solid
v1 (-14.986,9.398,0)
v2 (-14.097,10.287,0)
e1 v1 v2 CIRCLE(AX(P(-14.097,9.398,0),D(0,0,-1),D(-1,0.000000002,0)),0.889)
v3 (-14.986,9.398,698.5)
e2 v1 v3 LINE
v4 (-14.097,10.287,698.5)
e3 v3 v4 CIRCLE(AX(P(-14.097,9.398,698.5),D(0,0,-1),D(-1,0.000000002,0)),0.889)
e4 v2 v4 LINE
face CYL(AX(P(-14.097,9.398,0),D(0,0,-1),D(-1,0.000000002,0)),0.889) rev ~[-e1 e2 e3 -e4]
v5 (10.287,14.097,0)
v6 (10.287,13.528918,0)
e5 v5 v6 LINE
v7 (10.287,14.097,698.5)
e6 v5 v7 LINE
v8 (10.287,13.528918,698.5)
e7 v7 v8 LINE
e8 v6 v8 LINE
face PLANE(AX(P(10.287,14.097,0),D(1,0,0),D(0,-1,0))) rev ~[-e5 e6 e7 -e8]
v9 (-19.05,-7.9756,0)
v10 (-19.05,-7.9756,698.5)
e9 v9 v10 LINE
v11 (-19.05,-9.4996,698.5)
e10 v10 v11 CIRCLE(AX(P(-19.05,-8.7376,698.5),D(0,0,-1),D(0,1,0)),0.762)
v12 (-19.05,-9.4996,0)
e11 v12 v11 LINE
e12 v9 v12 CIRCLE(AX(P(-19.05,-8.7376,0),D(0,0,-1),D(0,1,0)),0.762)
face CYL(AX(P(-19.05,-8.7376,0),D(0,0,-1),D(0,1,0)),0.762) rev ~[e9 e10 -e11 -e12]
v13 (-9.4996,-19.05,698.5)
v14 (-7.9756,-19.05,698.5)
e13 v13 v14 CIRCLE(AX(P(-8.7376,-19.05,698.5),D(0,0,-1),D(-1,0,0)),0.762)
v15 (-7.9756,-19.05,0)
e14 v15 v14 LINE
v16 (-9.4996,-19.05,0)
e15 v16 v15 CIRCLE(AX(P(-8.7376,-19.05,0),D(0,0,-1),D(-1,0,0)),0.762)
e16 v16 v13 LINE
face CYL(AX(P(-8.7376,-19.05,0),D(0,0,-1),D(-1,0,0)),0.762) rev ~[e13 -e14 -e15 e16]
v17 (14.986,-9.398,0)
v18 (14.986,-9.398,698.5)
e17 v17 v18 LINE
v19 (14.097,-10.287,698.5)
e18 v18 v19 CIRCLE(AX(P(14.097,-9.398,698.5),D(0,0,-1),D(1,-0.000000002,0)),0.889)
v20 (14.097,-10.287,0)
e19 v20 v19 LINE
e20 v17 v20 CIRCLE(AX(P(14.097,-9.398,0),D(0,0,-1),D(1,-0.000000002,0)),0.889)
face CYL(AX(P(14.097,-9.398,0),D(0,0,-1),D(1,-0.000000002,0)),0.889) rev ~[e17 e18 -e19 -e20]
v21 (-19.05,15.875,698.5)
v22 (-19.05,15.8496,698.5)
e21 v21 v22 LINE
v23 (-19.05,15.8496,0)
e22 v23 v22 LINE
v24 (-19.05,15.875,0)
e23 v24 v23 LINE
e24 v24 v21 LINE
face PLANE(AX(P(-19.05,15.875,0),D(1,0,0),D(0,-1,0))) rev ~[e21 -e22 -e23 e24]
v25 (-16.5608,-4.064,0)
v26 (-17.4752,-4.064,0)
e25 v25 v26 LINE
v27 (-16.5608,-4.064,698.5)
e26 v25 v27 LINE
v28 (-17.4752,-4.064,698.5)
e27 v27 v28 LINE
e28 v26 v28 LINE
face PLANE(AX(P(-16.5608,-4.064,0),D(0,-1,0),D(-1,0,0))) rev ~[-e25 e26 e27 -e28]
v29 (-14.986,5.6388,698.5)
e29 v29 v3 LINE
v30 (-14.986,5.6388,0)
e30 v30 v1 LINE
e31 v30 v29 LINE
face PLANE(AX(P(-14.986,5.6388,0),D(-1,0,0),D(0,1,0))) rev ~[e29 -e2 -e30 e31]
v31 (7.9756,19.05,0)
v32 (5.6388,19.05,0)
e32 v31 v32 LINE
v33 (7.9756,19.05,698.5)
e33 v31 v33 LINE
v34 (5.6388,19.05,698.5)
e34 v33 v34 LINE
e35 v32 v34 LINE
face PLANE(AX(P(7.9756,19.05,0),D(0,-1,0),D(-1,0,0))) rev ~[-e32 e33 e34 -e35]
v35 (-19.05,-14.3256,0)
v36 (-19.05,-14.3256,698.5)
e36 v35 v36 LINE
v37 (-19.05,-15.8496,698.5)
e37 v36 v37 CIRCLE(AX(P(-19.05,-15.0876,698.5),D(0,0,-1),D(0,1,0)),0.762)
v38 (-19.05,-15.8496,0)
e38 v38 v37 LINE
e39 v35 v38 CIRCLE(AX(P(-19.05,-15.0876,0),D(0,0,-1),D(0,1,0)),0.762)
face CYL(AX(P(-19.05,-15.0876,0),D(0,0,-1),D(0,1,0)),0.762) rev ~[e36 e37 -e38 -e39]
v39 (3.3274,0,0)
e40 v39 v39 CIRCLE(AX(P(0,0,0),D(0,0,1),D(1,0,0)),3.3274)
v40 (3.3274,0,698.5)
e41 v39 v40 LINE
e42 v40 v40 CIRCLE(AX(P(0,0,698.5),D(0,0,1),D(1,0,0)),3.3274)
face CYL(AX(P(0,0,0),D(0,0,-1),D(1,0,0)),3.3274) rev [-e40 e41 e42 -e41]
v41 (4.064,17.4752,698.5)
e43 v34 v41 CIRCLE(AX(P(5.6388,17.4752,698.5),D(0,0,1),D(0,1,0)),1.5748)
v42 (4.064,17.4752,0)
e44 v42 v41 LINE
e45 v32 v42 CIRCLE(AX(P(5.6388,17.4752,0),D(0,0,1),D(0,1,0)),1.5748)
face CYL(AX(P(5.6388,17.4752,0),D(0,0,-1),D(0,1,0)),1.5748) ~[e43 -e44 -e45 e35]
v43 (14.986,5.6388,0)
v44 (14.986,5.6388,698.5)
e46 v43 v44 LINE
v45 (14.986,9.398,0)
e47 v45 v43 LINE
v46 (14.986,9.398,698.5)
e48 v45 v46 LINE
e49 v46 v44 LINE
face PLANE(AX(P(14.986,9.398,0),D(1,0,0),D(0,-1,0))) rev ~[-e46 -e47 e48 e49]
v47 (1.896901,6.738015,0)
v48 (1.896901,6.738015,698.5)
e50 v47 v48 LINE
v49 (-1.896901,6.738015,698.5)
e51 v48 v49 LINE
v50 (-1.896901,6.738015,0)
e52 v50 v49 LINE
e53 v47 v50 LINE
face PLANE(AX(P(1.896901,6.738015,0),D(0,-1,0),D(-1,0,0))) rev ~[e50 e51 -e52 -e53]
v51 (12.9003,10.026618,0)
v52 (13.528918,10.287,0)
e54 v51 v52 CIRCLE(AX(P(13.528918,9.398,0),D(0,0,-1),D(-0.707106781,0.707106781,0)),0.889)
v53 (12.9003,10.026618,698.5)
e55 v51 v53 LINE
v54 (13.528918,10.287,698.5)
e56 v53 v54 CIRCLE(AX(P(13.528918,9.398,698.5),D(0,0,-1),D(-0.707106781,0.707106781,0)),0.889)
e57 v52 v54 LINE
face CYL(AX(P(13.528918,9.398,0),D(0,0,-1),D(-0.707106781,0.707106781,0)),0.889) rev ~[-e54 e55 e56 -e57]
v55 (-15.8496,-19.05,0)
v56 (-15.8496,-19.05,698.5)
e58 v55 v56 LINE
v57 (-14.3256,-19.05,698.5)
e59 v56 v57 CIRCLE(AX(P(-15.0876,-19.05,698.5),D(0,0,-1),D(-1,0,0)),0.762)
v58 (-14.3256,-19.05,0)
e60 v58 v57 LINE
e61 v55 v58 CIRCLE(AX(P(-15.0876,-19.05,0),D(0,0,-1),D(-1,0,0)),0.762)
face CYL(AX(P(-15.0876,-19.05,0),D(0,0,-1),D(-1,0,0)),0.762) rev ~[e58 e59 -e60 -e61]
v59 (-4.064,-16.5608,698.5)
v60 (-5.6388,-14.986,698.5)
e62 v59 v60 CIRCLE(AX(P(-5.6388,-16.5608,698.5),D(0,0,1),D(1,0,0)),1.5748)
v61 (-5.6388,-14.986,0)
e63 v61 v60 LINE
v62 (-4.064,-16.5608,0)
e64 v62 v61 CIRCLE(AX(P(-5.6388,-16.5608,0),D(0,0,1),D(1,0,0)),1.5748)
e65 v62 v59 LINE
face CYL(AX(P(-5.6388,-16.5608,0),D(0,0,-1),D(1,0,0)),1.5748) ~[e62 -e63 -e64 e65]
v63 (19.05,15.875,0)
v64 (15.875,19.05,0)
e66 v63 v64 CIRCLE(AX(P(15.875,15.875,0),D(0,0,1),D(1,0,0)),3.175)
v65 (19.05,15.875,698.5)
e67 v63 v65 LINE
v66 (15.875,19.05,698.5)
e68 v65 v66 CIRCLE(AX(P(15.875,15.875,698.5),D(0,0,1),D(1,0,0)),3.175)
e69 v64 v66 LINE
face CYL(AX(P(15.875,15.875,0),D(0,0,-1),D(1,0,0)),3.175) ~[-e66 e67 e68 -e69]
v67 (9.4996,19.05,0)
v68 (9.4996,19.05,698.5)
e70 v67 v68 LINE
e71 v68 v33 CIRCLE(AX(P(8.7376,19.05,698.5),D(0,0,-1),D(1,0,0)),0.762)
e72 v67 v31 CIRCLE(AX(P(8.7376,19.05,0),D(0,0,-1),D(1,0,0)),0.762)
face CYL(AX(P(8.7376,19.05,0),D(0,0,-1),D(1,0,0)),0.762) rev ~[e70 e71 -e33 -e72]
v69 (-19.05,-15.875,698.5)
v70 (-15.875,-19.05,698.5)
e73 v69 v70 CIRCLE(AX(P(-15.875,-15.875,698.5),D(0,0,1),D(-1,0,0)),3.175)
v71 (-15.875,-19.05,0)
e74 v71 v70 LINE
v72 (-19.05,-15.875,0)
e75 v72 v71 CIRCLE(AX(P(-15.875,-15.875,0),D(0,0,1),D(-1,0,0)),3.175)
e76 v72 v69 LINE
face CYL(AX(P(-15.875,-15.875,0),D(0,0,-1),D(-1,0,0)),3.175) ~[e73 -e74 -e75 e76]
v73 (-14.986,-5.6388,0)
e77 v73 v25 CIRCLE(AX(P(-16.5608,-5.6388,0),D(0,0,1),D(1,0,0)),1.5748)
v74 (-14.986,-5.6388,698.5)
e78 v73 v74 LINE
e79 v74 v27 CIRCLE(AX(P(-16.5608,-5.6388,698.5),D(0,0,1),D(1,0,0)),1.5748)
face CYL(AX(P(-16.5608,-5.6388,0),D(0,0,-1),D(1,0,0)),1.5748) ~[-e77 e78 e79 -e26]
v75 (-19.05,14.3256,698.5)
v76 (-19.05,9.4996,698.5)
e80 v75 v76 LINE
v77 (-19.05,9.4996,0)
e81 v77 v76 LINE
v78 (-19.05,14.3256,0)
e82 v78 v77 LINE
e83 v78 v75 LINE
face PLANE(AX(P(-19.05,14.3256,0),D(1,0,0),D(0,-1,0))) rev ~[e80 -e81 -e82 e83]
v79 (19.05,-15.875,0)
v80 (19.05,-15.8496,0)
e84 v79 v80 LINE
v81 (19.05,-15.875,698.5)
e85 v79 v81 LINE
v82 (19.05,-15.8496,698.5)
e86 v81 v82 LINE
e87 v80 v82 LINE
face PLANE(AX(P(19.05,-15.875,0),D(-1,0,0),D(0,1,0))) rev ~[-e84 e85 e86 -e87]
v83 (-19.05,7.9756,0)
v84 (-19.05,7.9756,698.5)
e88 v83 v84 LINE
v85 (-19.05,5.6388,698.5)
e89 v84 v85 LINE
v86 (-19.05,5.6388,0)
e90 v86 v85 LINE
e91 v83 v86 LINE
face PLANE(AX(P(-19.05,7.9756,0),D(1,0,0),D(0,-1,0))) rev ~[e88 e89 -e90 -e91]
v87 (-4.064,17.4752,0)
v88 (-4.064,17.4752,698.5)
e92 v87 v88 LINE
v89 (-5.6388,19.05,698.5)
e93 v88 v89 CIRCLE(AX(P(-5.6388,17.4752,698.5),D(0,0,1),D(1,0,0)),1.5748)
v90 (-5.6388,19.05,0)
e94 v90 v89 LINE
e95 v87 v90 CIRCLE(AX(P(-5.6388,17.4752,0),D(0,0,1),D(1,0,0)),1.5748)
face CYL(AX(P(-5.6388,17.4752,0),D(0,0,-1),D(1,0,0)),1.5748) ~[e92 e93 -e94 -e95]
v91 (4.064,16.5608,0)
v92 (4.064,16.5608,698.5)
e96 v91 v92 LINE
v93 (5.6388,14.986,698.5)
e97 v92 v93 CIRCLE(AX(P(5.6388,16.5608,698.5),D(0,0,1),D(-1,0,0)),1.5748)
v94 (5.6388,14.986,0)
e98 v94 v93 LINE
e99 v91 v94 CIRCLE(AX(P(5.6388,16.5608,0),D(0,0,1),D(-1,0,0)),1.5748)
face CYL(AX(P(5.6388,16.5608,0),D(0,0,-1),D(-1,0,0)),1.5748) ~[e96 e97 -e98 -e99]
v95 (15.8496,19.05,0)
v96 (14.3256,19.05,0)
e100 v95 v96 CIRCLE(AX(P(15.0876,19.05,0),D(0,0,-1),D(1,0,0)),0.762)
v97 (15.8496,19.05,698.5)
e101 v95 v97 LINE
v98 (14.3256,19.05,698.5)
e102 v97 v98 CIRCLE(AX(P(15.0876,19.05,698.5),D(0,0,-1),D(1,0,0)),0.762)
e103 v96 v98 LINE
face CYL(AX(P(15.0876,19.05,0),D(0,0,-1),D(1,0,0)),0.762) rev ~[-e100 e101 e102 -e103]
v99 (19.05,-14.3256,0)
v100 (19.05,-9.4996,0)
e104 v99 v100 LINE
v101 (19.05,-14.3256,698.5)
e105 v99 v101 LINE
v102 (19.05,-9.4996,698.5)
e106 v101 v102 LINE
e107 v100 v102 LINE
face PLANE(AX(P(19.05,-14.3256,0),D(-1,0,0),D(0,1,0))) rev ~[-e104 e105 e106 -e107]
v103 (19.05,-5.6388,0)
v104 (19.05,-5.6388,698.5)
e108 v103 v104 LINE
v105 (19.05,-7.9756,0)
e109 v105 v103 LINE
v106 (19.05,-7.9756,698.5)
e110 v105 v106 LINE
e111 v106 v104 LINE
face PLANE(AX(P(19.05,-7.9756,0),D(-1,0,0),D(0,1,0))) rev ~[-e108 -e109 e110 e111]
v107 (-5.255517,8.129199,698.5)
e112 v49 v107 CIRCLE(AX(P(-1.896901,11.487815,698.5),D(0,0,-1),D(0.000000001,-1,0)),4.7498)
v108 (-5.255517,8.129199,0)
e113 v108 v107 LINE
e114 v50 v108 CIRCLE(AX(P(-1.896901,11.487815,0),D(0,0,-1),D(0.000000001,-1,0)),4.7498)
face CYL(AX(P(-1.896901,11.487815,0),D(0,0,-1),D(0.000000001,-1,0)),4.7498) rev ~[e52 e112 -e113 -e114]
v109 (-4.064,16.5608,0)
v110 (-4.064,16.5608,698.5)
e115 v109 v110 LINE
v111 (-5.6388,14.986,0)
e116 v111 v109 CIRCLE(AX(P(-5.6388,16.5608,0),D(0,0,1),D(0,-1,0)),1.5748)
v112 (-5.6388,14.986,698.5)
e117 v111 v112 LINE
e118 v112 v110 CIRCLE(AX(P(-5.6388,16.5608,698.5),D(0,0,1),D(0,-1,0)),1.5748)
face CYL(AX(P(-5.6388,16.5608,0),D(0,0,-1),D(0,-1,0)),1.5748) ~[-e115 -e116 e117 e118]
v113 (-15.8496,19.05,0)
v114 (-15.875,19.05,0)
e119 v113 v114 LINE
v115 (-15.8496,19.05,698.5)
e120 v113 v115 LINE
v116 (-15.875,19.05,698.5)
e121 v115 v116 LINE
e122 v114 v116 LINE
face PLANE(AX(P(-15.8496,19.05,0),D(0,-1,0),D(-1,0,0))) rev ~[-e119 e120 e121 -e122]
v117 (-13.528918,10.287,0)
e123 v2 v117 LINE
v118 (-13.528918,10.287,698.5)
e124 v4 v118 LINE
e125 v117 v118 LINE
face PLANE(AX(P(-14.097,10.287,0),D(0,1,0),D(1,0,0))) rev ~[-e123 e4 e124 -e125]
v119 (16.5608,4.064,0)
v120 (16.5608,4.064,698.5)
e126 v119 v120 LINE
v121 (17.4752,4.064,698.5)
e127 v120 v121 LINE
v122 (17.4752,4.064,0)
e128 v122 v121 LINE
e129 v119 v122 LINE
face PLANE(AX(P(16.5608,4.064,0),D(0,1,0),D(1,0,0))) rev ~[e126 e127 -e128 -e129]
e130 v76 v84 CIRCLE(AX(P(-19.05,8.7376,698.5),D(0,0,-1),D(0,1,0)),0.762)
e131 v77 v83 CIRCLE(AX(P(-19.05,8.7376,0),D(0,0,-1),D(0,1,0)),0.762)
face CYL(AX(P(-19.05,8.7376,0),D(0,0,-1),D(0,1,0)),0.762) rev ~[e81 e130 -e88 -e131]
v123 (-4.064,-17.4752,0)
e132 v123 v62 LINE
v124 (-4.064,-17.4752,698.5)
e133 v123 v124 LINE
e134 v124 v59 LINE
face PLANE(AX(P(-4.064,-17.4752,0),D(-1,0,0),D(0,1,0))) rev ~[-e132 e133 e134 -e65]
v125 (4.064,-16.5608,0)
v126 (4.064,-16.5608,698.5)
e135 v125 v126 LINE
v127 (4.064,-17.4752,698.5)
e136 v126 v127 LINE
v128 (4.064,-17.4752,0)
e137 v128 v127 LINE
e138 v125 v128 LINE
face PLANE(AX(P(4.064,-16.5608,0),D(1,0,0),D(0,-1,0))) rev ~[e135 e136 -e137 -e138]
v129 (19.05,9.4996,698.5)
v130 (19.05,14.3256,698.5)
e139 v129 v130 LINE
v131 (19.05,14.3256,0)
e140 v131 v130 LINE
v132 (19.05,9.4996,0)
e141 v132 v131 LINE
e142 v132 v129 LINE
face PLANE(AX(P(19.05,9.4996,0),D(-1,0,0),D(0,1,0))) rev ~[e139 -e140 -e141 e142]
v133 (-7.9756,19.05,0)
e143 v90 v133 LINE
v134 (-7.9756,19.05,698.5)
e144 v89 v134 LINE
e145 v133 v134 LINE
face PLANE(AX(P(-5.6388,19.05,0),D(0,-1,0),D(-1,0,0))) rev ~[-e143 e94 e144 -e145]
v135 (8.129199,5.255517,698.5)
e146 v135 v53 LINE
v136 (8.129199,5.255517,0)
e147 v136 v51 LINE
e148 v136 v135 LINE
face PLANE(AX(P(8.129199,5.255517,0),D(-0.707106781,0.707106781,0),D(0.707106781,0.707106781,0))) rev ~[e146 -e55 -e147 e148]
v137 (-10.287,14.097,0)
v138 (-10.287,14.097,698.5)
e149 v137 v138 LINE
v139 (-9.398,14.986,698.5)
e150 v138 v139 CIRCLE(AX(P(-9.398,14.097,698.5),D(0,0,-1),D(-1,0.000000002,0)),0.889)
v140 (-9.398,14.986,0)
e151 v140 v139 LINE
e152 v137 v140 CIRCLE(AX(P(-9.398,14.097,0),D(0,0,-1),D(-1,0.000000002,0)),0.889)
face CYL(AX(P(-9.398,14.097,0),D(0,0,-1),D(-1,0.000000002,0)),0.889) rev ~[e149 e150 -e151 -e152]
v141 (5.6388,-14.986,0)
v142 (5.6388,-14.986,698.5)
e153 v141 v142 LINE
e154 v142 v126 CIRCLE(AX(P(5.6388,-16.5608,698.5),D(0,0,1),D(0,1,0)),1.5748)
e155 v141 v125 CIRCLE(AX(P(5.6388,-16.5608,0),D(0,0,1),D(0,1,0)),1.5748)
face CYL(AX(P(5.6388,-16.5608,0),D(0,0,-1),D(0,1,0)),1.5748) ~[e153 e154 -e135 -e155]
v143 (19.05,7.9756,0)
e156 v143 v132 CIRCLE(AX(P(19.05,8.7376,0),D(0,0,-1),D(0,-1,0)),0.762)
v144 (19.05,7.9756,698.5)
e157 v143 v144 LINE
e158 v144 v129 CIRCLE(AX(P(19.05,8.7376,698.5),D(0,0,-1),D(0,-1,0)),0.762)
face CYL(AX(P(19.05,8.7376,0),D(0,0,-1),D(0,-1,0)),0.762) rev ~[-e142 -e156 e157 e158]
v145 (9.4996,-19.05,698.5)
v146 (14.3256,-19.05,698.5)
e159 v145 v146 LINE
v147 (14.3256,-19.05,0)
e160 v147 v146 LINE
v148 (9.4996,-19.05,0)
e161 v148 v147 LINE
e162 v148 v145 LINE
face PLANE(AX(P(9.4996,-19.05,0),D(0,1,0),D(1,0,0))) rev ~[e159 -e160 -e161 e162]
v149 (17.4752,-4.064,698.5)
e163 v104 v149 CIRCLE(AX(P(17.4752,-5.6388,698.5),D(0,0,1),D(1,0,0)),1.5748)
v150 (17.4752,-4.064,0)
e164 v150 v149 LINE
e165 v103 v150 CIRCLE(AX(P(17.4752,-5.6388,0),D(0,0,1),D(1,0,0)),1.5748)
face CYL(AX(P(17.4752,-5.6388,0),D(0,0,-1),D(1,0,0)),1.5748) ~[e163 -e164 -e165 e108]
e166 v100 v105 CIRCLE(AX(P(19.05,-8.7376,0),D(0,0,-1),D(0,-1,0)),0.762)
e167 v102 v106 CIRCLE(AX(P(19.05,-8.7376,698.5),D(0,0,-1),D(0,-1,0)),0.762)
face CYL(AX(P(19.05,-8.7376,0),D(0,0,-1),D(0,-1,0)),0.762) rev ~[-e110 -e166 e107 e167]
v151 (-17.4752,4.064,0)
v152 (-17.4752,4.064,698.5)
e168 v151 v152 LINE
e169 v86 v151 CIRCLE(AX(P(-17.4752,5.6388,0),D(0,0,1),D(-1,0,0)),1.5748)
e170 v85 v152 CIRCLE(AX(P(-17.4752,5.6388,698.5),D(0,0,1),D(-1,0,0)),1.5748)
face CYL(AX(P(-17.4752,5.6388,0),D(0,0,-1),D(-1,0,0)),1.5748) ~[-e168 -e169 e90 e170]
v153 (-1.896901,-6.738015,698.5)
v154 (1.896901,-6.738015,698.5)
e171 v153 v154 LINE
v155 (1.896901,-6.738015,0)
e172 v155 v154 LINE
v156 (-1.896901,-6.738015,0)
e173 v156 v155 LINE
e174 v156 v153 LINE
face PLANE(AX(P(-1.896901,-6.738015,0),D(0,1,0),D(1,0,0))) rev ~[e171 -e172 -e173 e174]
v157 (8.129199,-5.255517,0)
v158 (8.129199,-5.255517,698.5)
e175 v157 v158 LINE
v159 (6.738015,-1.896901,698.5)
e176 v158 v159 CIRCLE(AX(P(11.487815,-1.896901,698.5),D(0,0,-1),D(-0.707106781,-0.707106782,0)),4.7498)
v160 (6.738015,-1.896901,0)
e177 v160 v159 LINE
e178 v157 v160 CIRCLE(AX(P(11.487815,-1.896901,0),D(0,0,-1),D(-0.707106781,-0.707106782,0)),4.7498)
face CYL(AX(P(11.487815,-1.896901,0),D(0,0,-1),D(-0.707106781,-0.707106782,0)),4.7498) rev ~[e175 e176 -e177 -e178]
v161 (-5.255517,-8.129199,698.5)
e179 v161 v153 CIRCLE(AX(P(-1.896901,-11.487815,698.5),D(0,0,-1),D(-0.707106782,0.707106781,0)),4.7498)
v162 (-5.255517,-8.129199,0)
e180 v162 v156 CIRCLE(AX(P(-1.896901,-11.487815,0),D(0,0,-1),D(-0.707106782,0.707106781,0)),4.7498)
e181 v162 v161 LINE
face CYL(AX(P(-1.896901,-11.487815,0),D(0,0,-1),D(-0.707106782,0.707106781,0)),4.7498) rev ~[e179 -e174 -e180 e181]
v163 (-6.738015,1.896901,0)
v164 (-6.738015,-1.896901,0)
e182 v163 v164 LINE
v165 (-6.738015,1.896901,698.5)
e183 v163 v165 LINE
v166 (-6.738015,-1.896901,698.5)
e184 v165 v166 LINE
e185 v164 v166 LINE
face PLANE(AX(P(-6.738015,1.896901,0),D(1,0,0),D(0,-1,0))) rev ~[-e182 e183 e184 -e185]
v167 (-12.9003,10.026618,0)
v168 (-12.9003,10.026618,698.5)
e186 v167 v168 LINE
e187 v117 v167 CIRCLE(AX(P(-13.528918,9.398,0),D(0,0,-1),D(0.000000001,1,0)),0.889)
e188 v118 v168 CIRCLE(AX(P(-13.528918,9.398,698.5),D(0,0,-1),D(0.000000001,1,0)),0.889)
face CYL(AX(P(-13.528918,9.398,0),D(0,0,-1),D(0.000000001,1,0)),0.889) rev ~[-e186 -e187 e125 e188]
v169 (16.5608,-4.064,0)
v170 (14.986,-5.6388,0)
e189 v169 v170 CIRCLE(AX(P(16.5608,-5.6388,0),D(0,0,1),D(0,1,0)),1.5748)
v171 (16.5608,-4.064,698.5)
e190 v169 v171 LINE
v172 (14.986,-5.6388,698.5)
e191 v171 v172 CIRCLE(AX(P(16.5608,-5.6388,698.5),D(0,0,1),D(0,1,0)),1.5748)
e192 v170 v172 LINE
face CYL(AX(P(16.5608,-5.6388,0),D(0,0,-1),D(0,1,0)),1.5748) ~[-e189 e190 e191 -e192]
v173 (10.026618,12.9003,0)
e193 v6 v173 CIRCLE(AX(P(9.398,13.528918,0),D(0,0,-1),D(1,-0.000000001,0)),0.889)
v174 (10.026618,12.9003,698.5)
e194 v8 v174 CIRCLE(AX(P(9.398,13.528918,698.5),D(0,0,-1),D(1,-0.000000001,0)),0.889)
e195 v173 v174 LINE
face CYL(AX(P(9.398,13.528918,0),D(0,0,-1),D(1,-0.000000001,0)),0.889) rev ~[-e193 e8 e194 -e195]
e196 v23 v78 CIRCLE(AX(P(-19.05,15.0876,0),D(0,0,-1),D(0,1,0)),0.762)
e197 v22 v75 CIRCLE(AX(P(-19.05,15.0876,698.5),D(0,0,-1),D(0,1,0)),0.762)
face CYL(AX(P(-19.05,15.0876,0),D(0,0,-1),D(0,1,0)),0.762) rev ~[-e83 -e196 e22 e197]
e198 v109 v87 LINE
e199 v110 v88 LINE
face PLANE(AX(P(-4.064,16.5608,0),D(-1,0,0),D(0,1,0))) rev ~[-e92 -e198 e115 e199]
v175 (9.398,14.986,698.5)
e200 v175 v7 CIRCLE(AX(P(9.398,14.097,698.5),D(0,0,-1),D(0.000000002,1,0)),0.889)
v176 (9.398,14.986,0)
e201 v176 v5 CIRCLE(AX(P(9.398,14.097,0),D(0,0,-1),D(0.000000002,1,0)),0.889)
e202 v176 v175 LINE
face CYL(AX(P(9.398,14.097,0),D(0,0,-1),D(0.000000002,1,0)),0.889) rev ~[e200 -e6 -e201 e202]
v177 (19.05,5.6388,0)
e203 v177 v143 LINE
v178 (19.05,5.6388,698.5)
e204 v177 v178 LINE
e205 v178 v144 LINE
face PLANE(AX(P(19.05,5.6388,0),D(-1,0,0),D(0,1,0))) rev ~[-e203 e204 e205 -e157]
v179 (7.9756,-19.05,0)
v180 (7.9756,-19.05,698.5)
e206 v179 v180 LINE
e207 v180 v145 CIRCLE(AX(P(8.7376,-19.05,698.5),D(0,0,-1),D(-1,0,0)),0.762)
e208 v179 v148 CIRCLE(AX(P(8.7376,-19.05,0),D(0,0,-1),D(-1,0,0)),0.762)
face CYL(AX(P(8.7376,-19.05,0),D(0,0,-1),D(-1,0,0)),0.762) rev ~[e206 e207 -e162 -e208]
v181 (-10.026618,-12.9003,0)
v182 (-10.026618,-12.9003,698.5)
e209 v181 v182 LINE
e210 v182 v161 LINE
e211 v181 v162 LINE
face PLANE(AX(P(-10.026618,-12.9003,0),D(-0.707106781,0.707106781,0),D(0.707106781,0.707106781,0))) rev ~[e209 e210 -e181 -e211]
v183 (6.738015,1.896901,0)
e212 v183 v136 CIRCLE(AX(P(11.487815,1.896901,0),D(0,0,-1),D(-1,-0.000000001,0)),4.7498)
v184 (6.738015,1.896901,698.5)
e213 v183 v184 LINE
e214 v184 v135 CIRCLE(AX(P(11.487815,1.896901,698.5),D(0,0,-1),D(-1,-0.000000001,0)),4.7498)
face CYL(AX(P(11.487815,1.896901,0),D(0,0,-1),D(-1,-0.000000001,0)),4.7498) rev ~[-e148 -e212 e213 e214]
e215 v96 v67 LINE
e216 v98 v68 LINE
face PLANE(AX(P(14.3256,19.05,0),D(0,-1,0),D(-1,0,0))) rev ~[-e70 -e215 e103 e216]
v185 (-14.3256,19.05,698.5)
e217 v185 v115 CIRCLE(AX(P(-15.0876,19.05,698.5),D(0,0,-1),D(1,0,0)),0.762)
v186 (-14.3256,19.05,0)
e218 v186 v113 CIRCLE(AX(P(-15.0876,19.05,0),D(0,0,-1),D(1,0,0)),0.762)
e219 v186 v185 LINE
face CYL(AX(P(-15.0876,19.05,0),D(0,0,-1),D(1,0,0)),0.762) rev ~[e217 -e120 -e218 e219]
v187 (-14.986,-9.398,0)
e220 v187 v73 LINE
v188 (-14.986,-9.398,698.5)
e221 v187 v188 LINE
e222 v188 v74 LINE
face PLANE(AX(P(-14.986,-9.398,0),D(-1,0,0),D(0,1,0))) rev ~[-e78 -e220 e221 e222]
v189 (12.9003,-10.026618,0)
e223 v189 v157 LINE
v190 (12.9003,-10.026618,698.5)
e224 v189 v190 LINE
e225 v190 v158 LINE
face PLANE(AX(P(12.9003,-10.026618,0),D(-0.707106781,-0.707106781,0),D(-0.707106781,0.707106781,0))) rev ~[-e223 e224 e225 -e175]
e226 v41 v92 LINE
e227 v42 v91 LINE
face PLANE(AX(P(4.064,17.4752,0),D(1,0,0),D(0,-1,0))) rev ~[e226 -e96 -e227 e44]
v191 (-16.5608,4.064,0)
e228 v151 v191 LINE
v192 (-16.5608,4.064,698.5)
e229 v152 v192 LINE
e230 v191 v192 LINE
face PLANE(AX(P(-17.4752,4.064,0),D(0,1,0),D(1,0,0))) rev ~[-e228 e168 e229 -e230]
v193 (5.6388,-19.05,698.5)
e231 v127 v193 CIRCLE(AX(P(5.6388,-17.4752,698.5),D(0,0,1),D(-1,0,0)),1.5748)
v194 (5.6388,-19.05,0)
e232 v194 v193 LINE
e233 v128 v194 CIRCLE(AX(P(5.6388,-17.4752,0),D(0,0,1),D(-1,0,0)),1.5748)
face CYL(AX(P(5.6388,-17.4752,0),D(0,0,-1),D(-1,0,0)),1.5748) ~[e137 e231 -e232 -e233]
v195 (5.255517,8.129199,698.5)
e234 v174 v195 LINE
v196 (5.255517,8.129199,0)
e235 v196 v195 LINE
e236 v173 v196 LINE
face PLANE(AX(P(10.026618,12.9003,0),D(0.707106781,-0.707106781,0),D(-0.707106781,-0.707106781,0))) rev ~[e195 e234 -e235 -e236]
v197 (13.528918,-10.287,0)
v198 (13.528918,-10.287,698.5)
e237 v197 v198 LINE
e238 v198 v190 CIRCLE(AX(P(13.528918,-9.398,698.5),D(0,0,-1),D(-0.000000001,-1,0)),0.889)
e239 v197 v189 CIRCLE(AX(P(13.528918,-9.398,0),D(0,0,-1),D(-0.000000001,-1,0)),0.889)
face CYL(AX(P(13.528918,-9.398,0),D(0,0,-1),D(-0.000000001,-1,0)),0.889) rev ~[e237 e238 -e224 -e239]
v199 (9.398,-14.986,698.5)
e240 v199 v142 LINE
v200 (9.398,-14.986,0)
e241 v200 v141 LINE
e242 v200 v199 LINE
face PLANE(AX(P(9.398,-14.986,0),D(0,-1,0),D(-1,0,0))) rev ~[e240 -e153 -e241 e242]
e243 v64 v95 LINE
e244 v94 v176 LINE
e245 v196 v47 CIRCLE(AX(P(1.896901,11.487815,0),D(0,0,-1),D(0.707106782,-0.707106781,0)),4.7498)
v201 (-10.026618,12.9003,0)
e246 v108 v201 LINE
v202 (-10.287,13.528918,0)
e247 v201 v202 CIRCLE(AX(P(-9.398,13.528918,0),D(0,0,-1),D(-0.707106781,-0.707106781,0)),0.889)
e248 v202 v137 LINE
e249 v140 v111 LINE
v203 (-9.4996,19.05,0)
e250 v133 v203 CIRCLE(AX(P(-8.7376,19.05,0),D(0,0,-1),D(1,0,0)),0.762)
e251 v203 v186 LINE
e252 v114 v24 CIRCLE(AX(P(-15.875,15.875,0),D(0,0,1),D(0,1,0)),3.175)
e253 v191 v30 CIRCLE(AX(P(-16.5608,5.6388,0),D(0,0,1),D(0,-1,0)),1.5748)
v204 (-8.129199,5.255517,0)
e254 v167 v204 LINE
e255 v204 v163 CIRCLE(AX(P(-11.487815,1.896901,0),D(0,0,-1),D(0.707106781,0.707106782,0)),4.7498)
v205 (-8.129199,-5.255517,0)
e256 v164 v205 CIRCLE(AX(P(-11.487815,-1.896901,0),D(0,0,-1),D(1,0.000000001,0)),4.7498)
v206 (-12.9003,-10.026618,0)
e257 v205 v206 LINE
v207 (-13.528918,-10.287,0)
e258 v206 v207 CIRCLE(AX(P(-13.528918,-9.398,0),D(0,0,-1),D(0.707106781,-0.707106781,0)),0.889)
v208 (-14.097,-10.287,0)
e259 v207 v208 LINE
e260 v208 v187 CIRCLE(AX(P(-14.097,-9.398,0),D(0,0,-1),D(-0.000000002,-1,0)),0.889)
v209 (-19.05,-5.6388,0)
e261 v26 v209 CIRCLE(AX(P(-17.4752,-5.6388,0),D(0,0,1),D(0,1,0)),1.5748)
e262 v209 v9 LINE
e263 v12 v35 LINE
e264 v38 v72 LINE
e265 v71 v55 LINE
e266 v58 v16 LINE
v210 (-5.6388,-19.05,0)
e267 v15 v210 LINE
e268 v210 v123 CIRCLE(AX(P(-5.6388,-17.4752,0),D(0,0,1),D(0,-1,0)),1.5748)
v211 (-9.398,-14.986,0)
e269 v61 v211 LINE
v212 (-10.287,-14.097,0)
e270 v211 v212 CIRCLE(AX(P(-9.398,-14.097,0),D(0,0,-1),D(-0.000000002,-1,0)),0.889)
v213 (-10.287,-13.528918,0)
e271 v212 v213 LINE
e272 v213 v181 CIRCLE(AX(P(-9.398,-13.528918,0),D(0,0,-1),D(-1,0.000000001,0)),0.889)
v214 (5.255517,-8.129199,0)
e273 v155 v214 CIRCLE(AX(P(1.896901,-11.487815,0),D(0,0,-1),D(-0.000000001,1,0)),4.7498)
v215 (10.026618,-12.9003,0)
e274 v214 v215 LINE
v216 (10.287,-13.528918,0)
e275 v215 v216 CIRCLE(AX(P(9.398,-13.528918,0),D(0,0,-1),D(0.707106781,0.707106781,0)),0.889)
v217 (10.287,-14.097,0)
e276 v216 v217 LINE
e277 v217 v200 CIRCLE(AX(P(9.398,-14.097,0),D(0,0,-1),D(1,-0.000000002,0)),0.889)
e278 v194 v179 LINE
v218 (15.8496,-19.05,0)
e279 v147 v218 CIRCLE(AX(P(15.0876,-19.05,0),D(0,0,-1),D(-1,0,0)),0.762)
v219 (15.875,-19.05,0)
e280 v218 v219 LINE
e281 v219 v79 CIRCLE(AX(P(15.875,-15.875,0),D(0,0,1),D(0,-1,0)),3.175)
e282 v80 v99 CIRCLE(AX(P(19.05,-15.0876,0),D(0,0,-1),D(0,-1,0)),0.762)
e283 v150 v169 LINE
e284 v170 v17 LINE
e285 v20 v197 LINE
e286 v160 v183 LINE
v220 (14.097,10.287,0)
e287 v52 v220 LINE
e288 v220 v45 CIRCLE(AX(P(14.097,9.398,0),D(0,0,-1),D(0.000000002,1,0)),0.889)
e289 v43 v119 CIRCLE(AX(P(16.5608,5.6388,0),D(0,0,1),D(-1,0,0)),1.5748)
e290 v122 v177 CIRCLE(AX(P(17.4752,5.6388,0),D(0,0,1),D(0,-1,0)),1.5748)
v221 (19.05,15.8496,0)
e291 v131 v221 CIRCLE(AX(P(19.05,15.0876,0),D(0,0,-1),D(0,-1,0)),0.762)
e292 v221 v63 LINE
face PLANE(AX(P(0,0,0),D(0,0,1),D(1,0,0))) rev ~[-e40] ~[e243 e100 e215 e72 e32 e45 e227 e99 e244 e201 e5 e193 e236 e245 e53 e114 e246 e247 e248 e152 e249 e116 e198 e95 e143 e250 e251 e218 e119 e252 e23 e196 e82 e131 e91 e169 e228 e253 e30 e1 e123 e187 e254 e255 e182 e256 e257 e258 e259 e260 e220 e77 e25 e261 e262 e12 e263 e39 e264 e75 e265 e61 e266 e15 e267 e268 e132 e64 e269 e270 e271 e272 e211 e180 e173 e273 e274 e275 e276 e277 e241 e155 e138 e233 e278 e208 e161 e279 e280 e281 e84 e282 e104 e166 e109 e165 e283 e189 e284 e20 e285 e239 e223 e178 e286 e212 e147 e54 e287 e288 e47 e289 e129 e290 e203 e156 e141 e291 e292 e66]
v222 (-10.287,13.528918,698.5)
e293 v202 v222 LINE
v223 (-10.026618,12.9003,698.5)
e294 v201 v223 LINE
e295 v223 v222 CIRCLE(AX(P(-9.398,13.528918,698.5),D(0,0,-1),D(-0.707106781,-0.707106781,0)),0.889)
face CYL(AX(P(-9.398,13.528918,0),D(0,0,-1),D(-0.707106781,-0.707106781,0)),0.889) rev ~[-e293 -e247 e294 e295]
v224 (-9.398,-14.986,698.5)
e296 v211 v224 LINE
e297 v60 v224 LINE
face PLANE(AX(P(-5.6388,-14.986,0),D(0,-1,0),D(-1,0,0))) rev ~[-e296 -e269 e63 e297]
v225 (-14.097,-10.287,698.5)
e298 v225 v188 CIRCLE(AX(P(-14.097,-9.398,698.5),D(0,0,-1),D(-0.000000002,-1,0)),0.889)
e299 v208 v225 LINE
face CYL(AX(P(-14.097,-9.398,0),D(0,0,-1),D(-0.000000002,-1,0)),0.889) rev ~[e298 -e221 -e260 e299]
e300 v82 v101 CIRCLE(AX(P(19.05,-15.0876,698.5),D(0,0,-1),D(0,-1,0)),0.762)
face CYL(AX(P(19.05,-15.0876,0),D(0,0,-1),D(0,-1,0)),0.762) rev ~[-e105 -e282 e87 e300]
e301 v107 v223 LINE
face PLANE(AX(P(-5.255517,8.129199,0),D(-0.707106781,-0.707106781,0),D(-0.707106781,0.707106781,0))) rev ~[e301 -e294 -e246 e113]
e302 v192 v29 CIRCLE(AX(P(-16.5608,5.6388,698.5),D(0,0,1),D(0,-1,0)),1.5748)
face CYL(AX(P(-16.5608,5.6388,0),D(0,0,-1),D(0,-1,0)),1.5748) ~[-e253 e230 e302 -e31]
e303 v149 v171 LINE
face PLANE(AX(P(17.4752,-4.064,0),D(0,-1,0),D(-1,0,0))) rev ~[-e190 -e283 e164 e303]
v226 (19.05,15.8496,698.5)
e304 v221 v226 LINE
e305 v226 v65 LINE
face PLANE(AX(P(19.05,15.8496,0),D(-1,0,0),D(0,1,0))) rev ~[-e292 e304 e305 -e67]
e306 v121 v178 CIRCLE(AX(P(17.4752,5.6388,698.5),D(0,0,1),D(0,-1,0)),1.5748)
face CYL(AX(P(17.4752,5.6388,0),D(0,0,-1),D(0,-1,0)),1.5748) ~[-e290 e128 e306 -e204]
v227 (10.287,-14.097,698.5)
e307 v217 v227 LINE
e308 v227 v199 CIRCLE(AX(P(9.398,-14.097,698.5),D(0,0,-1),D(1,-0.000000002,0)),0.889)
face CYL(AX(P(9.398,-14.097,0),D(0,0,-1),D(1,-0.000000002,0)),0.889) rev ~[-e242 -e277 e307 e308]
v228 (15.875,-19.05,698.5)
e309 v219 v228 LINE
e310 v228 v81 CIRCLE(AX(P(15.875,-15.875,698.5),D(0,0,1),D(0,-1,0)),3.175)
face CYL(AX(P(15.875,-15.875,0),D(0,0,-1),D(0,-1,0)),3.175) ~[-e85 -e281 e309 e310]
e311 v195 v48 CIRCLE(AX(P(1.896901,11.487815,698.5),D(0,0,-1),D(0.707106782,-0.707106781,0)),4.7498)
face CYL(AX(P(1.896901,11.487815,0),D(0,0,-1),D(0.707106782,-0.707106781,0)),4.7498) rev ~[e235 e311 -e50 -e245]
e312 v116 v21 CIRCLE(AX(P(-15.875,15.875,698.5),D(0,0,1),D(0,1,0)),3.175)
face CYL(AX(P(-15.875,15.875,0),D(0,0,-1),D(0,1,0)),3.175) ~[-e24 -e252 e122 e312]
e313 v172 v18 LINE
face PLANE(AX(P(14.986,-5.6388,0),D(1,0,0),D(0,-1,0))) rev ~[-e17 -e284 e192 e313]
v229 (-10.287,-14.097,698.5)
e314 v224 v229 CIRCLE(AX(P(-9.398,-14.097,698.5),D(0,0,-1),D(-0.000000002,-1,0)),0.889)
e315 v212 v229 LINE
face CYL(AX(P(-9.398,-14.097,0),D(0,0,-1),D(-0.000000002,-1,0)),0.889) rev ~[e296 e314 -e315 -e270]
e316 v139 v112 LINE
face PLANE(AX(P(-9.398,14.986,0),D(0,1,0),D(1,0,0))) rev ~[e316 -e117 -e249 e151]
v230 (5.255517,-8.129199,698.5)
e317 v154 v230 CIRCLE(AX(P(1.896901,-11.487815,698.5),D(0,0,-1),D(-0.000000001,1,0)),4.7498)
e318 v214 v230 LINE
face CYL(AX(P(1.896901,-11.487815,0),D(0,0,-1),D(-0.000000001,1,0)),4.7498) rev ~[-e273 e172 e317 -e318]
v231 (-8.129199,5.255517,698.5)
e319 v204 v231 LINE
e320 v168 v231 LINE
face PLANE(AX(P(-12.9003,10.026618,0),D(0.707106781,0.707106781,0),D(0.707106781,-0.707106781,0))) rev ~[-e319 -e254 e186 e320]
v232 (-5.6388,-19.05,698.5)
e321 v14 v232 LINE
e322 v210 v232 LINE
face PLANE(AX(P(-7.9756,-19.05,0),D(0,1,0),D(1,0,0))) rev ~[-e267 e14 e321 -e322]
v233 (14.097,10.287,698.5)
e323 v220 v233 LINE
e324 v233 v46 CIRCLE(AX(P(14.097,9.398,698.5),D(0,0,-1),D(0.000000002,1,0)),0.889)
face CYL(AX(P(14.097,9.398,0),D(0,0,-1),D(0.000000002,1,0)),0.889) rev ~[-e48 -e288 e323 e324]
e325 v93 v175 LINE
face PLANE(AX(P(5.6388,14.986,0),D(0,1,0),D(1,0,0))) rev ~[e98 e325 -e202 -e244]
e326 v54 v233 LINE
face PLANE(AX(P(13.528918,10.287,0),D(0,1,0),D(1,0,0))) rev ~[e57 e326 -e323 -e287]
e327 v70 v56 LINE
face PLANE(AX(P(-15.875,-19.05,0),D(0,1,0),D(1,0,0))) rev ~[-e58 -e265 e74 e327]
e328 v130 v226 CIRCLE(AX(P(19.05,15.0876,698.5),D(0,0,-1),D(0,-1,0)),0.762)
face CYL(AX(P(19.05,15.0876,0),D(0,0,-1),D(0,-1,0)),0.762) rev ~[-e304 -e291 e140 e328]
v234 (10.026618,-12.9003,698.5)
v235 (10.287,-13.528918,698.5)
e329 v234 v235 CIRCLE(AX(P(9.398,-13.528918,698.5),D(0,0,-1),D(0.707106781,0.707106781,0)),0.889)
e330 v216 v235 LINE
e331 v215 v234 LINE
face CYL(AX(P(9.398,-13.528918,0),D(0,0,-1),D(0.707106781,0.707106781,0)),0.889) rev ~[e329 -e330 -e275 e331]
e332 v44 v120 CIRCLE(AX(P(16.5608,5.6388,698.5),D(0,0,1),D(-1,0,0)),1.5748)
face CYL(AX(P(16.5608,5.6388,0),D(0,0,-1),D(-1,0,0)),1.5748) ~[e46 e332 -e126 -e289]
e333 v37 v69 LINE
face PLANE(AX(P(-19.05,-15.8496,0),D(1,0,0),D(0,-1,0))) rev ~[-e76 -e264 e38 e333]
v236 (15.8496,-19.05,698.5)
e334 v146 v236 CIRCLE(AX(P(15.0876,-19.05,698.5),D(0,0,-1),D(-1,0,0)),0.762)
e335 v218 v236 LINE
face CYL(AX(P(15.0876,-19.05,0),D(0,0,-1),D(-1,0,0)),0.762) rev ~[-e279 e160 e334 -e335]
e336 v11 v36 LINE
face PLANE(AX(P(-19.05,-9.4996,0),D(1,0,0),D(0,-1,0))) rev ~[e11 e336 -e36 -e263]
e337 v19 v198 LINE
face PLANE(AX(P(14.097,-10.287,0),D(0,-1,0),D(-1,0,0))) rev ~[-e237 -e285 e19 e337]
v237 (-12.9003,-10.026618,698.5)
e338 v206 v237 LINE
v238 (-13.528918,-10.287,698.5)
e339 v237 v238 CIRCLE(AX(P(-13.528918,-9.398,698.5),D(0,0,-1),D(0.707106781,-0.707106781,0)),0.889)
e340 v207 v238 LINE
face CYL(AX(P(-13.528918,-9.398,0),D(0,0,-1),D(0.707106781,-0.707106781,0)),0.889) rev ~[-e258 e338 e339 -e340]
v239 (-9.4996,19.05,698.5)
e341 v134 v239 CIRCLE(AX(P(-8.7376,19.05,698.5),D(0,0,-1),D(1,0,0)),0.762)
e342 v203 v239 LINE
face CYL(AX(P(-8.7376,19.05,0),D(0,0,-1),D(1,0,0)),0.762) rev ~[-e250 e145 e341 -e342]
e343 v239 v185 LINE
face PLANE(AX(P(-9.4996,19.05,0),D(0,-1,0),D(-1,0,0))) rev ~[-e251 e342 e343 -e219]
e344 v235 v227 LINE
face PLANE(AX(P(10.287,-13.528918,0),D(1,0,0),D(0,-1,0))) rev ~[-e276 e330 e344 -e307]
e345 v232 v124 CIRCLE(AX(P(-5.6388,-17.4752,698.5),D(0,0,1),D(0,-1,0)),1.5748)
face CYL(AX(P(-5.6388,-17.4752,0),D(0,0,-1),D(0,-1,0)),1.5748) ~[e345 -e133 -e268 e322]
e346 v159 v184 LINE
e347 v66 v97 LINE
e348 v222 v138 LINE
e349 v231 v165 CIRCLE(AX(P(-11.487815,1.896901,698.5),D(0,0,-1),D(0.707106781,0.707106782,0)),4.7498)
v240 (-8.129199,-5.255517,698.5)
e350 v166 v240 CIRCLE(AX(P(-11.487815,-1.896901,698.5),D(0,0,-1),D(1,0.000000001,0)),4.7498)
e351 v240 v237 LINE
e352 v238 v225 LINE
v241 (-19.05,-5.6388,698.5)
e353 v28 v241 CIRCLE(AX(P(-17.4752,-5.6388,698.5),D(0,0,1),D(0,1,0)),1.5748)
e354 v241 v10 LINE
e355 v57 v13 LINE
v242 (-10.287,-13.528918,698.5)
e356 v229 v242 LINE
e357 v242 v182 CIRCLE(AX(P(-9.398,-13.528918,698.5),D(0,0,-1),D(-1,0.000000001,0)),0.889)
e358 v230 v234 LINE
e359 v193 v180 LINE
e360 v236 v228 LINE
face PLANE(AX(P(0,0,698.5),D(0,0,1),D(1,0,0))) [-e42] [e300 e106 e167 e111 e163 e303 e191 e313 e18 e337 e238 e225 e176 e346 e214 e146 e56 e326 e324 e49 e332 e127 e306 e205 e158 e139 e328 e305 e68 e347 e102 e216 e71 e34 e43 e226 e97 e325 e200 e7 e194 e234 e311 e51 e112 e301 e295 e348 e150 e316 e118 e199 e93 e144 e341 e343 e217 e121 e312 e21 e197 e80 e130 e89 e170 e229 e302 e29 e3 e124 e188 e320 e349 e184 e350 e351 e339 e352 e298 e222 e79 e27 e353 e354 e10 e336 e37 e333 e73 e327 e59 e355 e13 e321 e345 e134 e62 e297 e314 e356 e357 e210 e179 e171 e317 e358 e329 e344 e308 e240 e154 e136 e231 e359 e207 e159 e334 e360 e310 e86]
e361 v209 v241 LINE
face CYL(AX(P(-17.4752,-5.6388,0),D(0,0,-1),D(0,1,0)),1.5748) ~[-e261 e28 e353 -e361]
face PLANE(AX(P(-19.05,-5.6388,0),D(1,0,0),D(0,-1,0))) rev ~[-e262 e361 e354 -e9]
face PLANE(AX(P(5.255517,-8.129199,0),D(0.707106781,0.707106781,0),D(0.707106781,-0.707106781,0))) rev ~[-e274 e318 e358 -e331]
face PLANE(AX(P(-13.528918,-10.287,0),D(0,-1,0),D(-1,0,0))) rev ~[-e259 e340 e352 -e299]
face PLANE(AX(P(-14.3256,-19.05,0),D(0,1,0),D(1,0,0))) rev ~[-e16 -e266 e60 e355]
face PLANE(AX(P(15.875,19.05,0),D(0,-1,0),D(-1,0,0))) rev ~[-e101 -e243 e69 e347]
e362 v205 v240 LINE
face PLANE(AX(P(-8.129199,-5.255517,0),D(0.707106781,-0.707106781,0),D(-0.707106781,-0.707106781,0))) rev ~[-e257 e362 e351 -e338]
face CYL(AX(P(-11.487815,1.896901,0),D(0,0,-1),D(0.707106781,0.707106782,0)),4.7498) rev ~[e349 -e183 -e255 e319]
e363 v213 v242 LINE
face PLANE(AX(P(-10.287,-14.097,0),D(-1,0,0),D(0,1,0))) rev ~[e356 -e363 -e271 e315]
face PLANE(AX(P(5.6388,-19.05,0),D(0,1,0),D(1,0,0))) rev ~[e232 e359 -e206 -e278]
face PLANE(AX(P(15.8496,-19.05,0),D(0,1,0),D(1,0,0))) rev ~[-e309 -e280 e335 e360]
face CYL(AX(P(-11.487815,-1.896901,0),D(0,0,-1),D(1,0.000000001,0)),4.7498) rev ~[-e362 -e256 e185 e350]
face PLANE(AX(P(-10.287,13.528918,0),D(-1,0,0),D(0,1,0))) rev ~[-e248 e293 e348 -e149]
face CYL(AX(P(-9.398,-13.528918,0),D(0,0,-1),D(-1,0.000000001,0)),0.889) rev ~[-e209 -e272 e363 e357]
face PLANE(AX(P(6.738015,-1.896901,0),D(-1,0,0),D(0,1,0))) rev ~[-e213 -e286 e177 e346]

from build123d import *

# Parameters (mm, degrees)
SKETCH1_R           = 3.3274
BOSS_EXTRUDE1_DEPTH = 698.5


with BuildPart() as part:
    # Sketch1 → Boss-Extrude1 (new body)
    with BuildSketch(Plane.XY):
        with BuildLine():
            Line((-14.097, 10.287), (-13.528918, 10.287))
            ThreePointArc((-13.528918, 10.287), (-13.188712428, 10.219328904), (-12.900300071, 10.026617928))
            Line((-12.900300071, 10.026617928), (-8.129198975, 5.255516832))
            ThreePointArc((-8.129198975, 5.255516832), (-7.09957176, 3.71457081), (-6.738014764, 1.896901043))
            Line((-6.738014764, 1.896901043), (-6.738014764, -1.896901043))
            ThreePointArc((-6.738014764, -1.896901043), (-7.09957176, -3.71457081), (-8.129198975, -5.255516832))
            Line((-8.129198975, -5.255516832), (-12.900300071, -10.026617928))
            ThreePointArc((-12.900300071, -10.026617928), (-13.188712428, -10.219328904), (-13.528918, -10.287))
            Line((-13.528918, -10.287), (-14.097, -10.287))
            ThreePointArc((-14.097, -10.287), (-14.725617928, -10.026617928), (-14.986, -9.398))
            Line((-14.986, -9.398), (-14.986, -5.6388))
            ThreePointArc((-14.986, -5.6388), (-15.447248241, -4.525248241), (-16.5608, -4.064))
            Line((-16.5608, -4.064), (-17.4752, -4.064))
            ThreePointArc((-17.4752, -4.064), (-18.588751759, -4.525248241), (-19.05, -5.6388))
            Line((-19.05, -5.6388), (-19.05, -7.9756))
            ThreePointArc((-19.05, -7.9756), (-18.288, -8.7376), (-19.05, -9.4996))
            Line((-19.05, -9.4996), (-19.05, -14.3256))
            ThreePointArc((-19.05, -14.3256), (-18.288, -15.0876), (-19.05, -15.8496))
            Line((-19.05, -15.8496), (-19.05, -15.875))
            ThreePointArc((-19.05, -15.875), (-18.12006403, -18.12006403), (-15.875, -19.05))
            Line((-15.875, -19.05), (-15.8496, -19.05))
            ThreePointArc((-15.8496, -19.05), (-15.0876, -18.288), (-14.3256, -19.05))
            Line((-14.3256, -19.05), (-9.4996, -19.05))
            ThreePointArc((-9.4996, -19.05), (-8.7376, -18.288), (-7.9756, -19.05))
            Line((-7.9756, -19.05), (-5.6388, -19.05))
            ThreePointArc((-5.6388, -19.05), (-4.525248241, -18.588751759), (-4.064, -17.4752))
            Line((-4.064, -17.4752), (-4.064, -16.5608))
            ThreePointArc((-4.064, -16.5608), (-4.525248241, -15.447248241), (-5.6388, -14.986))
            Line((-5.6388, -14.986), (-9.398, -14.986))
            ThreePointArc((-9.398, -14.986), (-10.026617928, -14.725617928), (-10.287, -14.097))
            Line((-10.287, -14.097), (-10.287, -13.528918))
            ThreePointArc((-10.287, -13.528918), (-10.219328904, -13.188712428), (-10.026617928, -12.900300071))
            Line((-10.026617928, -12.900300071), (-5.255516832, -8.129198975))
            ThreePointArc((-5.255516832, -8.129198975), (-3.71457081, -7.09957176), (-1.896901043, -6.738014764))
            Line((-1.896901043, -6.738014764), (1.896901043, -6.738014764))
            ThreePointArc((1.896901043, -6.738014764), (3.71457081, -7.09957176), (5.255516832, -8.129198975))
            Line((5.255516832, -8.129198975), (10.026617928, -12.900300071))
            ThreePointArc((10.026617928, -12.900300071), (10.219328904, -13.188712428), (10.287, -13.528918))
            Line((10.287, -13.528918), (10.287, -14.097))
            ThreePointArc((10.287, -14.097), (10.026617928, -14.725617928), (9.398, -14.986))
            Line((9.398, -14.986), (5.6388, -14.986))
            ThreePointArc((5.6388, -14.986), (4.525248241, -15.447248241), (4.064, -16.5608))
            Line((4.064, -16.5608), (4.064, -17.4752))
            ThreePointArc((4.064, -17.4752), (4.525248241, -18.588751759), (5.6388, -19.05))
            Line((5.6388, -19.05), (7.9756, -19.05))
            ThreePointArc((7.9756, -19.05), (8.7376, -18.288), (9.4996, -19.05))
            Line((9.4996, -19.05), (14.3256, -19.05))
            ThreePointArc((14.3256, -19.05), (15.0876, -18.288), (15.8496, -19.05))
            Line((15.8496, -19.05), (15.875, -19.05))
            ThreePointArc((15.875, -19.05), (18.12006403, -18.12006403), (19.05, -15.875))
            Line((19.05, -15.875), (19.05, -15.8496))
            ThreePointArc((19.05, -15.8496), (18.288, -15.0876), (19.05, -14.3256))
            Line((19.05, -14.3256), (19.05, -9.4996))
            ThreePointArc((19.05, -9.4996), (18.288, -8.7376), (19.05, -7.9756))
            Line((19.05, -7.9756), (19.05, -5.6388))
            ThreePointArc((19.05, -5.6388), (18.588751759, -4.525248241), (17.4752, -4.064))
            Line((17.4752, -4.064), (16.5608, -4.064))
            ThreePointArc((16.5608, -4.064), (15.447248241, -4.525248241), (14.986, -5.6388))
            Line((14.986, -5.6388), (14.986, -9.398))
            ThreePointArc((14.986, -9.398), (14.725617928, -10.026617928), (14.097, -10.287))
            Line((14.097, -10.287), (13.528918, -10.287))
            ThreePointArc((13.528918, -10.287), (13.188712428, -10.219328904), (12.900300071, -10.026617928))
            Line((12.900300071, -10.026617928), (8.129198975, -5.255516832))
            ThreePointArc((8.129198975, -5.255516832), (7.09957176, -3.71457081), (6.738014764, -1.896901043))
            Line((6.738014764, -1.896901043), (6.738014764, 1.896901043))
            ThreePointArc((6.738014764, 1.896901043), (7.09957176, 3.71457081), (8.129198975, 5.255516832))
            Line((8.129198975, 5.255516832), (12.900300071, 10.026617928))
            ThreePointArc((12.900300071, 10.026617928), (13.188712428, 10.219328904), (13.528918, 10.287))
            Line((13.528918, 10.287), (14.097, 10.287))
            ThreePointArc((14.097, 10.287), (14.725617928, 10.026617928), (14.986, 9.398))
            Line((14.986, 9.398), (14.986, 5.6388))
            ThreePointArc((14.986, 5.6388), (15.447248241, 4.525248241), (16.5608, 4.064))
            Line((16.5608, 4.064), (17.4752, 4.064))
            ThreePointArc((17.4752, 4.064), (18.588751759, 4.525248241), (19.05, 5.6388))
            Line((19.05, 5.6388), (19.05, 7.9756))
            ThreePointArc((19.05, 7.9756), (18.288, 8.7376), (19.05, 9.4996))
            Line((19.05, 9.4996), (19.05, 14.3256))
            ThreePointArc((19.05, 14.3256), (18.288, 15.0876), (19.05, 15.8496))
            Line((19.05, 15.8496), (19.05, 15.875))
            ThreePointArc((19.05, 15.875), (18.12006403, 18.12006403), (15.875, 19.05))
            Line((15.875, 19.05), (15.8496, 19.05))
            ThreePointArc((15.8496, 19.05), (15.0876, 18.288), (14.3256, 19.05))
            Line((14.3256, 19.05), (9.4996, 19.05))
            ThreePointArc((9.4996, 19.05), (8.7376, 18.288), (7.9756, 19.05))
            Line((7.9756, 19.05), (5.6388, 19.05))
            ThreePointArc((5.6388, 19.05), (4.525248241, 18.588751759), (4.064, 17.4752))
            Line((4.064, 17.4752), (4.064, 16.5608))
            ThreePointArc((4.064, 16.5608), (4.525248241, 15.447248241), (5.6388, 14.986))
            Line((5.6388, 14.986), (9.398, 14.986))
            ThreePointArc((9.398, 14.986), (10.026617928, 14.725617928), (10.287, 14.097))
            Line((10.287, 14.097), (10.287, 13.528918))
            ThreePointArc((10.287, 13.528918), (10.219328904, 13.188712428), (10.026617928, 12.900300071))
            Line((10.026617928, 12.900300071), (5.255516832, 8.129198975))
            ThreePointArc((5.255516832, 8.129198975), (3.71457081, 7.09957176), (1.896901043, 6.738014764))
            Line((1.896901043, 6.738014764), (-1.896901043, 6.738014764))
            ThreePointArc((-1.896901043, 6.738014764), (-3.71457081, 7.09957176), (-5.255516832, 8.129198975))
            Line((-5.255516832, 8.129198975), (-10.026617928, 12.900300071))
            ThreePointArc((-10.026617928, 12.900300071), (-10.219328904, 13.188712428), (-10.287, 13.528918))
            Line((-10.287, 13.528918), (-10.287, 14.097))
            ThreePointArc((-10.287, 14.097), (-10.026617928, 14.725617928), (-9.398, 14.986))
            Line((-9.398, 14.986), (-5.6388, 14.986))
            ThreePointArc((-5.6388, 14.986), (-4.525248241, 15.447248241), (-4.064, 16.5608))
            Line((-4.064, 16.5608), (-4.064, 17.4752))
            ThreePointArc((-4.064, 17.4752), (-4.525248241, 18.588751759), (-5.6388, 19.05))
            Line((-5.6388, 19.05), (-7.9756, 19.05))
            ThreePointArc((-7.9756, 19.05), (-8.7376, 18.288), (-9.4996, 19.05))
            Line((-9.4996, 19.05), (-14.3256, 19.05))
            ThreePointArc((-14.3256, 19.05), (-15.0876, 18.288), (-15.8496, 19.05))
            Line((-15.8496, 19.05), (-15.875, 19.05))
            ThreePointArc((-15.875, 19.05), (-18.12006403, 18.12006403), (-19.05, 15.875))
            Line((-19.05, 15.875), (-19.05, 15.8496))
            ThreePointArc((-19.05, 15.8496), (-18.288, 15.0876), (-19.05, 14.3256))
            Line((-19.05, 14.3256), (-19.05, 9.4996))
            ThreePointArc((-19.05, 9.4996), (-18.288, 8.7376), (-19.05, 7.9756))
            Line((-19.05, 7.9756), (-19.05, 5.6388))
            ThreePointArc((-19.05, 5.6388), (-18.588751759, 4.525248241), (-17.4752, 4.064))
            Line((-17.4752, 4.064), (-16.5608, 4.064))
            ThreePointArc((-16.5608, 4.064), (-15.447248241, 4.525248241), (-14.986, 5.6388))
            Line((-14.986, 5.6388), (-14.986, 9.398))
            ThreePointArc((-14.986, 9.398), (-14.725617928, 10.026617928), (-14.097, 10.287))
        make_face()
        Circle(SKETCH1_R, mode=Mode.SUBTRACT)
    extrude(amount=BOSS_EXTRUDE1_DEPTH)


solid = part.part
